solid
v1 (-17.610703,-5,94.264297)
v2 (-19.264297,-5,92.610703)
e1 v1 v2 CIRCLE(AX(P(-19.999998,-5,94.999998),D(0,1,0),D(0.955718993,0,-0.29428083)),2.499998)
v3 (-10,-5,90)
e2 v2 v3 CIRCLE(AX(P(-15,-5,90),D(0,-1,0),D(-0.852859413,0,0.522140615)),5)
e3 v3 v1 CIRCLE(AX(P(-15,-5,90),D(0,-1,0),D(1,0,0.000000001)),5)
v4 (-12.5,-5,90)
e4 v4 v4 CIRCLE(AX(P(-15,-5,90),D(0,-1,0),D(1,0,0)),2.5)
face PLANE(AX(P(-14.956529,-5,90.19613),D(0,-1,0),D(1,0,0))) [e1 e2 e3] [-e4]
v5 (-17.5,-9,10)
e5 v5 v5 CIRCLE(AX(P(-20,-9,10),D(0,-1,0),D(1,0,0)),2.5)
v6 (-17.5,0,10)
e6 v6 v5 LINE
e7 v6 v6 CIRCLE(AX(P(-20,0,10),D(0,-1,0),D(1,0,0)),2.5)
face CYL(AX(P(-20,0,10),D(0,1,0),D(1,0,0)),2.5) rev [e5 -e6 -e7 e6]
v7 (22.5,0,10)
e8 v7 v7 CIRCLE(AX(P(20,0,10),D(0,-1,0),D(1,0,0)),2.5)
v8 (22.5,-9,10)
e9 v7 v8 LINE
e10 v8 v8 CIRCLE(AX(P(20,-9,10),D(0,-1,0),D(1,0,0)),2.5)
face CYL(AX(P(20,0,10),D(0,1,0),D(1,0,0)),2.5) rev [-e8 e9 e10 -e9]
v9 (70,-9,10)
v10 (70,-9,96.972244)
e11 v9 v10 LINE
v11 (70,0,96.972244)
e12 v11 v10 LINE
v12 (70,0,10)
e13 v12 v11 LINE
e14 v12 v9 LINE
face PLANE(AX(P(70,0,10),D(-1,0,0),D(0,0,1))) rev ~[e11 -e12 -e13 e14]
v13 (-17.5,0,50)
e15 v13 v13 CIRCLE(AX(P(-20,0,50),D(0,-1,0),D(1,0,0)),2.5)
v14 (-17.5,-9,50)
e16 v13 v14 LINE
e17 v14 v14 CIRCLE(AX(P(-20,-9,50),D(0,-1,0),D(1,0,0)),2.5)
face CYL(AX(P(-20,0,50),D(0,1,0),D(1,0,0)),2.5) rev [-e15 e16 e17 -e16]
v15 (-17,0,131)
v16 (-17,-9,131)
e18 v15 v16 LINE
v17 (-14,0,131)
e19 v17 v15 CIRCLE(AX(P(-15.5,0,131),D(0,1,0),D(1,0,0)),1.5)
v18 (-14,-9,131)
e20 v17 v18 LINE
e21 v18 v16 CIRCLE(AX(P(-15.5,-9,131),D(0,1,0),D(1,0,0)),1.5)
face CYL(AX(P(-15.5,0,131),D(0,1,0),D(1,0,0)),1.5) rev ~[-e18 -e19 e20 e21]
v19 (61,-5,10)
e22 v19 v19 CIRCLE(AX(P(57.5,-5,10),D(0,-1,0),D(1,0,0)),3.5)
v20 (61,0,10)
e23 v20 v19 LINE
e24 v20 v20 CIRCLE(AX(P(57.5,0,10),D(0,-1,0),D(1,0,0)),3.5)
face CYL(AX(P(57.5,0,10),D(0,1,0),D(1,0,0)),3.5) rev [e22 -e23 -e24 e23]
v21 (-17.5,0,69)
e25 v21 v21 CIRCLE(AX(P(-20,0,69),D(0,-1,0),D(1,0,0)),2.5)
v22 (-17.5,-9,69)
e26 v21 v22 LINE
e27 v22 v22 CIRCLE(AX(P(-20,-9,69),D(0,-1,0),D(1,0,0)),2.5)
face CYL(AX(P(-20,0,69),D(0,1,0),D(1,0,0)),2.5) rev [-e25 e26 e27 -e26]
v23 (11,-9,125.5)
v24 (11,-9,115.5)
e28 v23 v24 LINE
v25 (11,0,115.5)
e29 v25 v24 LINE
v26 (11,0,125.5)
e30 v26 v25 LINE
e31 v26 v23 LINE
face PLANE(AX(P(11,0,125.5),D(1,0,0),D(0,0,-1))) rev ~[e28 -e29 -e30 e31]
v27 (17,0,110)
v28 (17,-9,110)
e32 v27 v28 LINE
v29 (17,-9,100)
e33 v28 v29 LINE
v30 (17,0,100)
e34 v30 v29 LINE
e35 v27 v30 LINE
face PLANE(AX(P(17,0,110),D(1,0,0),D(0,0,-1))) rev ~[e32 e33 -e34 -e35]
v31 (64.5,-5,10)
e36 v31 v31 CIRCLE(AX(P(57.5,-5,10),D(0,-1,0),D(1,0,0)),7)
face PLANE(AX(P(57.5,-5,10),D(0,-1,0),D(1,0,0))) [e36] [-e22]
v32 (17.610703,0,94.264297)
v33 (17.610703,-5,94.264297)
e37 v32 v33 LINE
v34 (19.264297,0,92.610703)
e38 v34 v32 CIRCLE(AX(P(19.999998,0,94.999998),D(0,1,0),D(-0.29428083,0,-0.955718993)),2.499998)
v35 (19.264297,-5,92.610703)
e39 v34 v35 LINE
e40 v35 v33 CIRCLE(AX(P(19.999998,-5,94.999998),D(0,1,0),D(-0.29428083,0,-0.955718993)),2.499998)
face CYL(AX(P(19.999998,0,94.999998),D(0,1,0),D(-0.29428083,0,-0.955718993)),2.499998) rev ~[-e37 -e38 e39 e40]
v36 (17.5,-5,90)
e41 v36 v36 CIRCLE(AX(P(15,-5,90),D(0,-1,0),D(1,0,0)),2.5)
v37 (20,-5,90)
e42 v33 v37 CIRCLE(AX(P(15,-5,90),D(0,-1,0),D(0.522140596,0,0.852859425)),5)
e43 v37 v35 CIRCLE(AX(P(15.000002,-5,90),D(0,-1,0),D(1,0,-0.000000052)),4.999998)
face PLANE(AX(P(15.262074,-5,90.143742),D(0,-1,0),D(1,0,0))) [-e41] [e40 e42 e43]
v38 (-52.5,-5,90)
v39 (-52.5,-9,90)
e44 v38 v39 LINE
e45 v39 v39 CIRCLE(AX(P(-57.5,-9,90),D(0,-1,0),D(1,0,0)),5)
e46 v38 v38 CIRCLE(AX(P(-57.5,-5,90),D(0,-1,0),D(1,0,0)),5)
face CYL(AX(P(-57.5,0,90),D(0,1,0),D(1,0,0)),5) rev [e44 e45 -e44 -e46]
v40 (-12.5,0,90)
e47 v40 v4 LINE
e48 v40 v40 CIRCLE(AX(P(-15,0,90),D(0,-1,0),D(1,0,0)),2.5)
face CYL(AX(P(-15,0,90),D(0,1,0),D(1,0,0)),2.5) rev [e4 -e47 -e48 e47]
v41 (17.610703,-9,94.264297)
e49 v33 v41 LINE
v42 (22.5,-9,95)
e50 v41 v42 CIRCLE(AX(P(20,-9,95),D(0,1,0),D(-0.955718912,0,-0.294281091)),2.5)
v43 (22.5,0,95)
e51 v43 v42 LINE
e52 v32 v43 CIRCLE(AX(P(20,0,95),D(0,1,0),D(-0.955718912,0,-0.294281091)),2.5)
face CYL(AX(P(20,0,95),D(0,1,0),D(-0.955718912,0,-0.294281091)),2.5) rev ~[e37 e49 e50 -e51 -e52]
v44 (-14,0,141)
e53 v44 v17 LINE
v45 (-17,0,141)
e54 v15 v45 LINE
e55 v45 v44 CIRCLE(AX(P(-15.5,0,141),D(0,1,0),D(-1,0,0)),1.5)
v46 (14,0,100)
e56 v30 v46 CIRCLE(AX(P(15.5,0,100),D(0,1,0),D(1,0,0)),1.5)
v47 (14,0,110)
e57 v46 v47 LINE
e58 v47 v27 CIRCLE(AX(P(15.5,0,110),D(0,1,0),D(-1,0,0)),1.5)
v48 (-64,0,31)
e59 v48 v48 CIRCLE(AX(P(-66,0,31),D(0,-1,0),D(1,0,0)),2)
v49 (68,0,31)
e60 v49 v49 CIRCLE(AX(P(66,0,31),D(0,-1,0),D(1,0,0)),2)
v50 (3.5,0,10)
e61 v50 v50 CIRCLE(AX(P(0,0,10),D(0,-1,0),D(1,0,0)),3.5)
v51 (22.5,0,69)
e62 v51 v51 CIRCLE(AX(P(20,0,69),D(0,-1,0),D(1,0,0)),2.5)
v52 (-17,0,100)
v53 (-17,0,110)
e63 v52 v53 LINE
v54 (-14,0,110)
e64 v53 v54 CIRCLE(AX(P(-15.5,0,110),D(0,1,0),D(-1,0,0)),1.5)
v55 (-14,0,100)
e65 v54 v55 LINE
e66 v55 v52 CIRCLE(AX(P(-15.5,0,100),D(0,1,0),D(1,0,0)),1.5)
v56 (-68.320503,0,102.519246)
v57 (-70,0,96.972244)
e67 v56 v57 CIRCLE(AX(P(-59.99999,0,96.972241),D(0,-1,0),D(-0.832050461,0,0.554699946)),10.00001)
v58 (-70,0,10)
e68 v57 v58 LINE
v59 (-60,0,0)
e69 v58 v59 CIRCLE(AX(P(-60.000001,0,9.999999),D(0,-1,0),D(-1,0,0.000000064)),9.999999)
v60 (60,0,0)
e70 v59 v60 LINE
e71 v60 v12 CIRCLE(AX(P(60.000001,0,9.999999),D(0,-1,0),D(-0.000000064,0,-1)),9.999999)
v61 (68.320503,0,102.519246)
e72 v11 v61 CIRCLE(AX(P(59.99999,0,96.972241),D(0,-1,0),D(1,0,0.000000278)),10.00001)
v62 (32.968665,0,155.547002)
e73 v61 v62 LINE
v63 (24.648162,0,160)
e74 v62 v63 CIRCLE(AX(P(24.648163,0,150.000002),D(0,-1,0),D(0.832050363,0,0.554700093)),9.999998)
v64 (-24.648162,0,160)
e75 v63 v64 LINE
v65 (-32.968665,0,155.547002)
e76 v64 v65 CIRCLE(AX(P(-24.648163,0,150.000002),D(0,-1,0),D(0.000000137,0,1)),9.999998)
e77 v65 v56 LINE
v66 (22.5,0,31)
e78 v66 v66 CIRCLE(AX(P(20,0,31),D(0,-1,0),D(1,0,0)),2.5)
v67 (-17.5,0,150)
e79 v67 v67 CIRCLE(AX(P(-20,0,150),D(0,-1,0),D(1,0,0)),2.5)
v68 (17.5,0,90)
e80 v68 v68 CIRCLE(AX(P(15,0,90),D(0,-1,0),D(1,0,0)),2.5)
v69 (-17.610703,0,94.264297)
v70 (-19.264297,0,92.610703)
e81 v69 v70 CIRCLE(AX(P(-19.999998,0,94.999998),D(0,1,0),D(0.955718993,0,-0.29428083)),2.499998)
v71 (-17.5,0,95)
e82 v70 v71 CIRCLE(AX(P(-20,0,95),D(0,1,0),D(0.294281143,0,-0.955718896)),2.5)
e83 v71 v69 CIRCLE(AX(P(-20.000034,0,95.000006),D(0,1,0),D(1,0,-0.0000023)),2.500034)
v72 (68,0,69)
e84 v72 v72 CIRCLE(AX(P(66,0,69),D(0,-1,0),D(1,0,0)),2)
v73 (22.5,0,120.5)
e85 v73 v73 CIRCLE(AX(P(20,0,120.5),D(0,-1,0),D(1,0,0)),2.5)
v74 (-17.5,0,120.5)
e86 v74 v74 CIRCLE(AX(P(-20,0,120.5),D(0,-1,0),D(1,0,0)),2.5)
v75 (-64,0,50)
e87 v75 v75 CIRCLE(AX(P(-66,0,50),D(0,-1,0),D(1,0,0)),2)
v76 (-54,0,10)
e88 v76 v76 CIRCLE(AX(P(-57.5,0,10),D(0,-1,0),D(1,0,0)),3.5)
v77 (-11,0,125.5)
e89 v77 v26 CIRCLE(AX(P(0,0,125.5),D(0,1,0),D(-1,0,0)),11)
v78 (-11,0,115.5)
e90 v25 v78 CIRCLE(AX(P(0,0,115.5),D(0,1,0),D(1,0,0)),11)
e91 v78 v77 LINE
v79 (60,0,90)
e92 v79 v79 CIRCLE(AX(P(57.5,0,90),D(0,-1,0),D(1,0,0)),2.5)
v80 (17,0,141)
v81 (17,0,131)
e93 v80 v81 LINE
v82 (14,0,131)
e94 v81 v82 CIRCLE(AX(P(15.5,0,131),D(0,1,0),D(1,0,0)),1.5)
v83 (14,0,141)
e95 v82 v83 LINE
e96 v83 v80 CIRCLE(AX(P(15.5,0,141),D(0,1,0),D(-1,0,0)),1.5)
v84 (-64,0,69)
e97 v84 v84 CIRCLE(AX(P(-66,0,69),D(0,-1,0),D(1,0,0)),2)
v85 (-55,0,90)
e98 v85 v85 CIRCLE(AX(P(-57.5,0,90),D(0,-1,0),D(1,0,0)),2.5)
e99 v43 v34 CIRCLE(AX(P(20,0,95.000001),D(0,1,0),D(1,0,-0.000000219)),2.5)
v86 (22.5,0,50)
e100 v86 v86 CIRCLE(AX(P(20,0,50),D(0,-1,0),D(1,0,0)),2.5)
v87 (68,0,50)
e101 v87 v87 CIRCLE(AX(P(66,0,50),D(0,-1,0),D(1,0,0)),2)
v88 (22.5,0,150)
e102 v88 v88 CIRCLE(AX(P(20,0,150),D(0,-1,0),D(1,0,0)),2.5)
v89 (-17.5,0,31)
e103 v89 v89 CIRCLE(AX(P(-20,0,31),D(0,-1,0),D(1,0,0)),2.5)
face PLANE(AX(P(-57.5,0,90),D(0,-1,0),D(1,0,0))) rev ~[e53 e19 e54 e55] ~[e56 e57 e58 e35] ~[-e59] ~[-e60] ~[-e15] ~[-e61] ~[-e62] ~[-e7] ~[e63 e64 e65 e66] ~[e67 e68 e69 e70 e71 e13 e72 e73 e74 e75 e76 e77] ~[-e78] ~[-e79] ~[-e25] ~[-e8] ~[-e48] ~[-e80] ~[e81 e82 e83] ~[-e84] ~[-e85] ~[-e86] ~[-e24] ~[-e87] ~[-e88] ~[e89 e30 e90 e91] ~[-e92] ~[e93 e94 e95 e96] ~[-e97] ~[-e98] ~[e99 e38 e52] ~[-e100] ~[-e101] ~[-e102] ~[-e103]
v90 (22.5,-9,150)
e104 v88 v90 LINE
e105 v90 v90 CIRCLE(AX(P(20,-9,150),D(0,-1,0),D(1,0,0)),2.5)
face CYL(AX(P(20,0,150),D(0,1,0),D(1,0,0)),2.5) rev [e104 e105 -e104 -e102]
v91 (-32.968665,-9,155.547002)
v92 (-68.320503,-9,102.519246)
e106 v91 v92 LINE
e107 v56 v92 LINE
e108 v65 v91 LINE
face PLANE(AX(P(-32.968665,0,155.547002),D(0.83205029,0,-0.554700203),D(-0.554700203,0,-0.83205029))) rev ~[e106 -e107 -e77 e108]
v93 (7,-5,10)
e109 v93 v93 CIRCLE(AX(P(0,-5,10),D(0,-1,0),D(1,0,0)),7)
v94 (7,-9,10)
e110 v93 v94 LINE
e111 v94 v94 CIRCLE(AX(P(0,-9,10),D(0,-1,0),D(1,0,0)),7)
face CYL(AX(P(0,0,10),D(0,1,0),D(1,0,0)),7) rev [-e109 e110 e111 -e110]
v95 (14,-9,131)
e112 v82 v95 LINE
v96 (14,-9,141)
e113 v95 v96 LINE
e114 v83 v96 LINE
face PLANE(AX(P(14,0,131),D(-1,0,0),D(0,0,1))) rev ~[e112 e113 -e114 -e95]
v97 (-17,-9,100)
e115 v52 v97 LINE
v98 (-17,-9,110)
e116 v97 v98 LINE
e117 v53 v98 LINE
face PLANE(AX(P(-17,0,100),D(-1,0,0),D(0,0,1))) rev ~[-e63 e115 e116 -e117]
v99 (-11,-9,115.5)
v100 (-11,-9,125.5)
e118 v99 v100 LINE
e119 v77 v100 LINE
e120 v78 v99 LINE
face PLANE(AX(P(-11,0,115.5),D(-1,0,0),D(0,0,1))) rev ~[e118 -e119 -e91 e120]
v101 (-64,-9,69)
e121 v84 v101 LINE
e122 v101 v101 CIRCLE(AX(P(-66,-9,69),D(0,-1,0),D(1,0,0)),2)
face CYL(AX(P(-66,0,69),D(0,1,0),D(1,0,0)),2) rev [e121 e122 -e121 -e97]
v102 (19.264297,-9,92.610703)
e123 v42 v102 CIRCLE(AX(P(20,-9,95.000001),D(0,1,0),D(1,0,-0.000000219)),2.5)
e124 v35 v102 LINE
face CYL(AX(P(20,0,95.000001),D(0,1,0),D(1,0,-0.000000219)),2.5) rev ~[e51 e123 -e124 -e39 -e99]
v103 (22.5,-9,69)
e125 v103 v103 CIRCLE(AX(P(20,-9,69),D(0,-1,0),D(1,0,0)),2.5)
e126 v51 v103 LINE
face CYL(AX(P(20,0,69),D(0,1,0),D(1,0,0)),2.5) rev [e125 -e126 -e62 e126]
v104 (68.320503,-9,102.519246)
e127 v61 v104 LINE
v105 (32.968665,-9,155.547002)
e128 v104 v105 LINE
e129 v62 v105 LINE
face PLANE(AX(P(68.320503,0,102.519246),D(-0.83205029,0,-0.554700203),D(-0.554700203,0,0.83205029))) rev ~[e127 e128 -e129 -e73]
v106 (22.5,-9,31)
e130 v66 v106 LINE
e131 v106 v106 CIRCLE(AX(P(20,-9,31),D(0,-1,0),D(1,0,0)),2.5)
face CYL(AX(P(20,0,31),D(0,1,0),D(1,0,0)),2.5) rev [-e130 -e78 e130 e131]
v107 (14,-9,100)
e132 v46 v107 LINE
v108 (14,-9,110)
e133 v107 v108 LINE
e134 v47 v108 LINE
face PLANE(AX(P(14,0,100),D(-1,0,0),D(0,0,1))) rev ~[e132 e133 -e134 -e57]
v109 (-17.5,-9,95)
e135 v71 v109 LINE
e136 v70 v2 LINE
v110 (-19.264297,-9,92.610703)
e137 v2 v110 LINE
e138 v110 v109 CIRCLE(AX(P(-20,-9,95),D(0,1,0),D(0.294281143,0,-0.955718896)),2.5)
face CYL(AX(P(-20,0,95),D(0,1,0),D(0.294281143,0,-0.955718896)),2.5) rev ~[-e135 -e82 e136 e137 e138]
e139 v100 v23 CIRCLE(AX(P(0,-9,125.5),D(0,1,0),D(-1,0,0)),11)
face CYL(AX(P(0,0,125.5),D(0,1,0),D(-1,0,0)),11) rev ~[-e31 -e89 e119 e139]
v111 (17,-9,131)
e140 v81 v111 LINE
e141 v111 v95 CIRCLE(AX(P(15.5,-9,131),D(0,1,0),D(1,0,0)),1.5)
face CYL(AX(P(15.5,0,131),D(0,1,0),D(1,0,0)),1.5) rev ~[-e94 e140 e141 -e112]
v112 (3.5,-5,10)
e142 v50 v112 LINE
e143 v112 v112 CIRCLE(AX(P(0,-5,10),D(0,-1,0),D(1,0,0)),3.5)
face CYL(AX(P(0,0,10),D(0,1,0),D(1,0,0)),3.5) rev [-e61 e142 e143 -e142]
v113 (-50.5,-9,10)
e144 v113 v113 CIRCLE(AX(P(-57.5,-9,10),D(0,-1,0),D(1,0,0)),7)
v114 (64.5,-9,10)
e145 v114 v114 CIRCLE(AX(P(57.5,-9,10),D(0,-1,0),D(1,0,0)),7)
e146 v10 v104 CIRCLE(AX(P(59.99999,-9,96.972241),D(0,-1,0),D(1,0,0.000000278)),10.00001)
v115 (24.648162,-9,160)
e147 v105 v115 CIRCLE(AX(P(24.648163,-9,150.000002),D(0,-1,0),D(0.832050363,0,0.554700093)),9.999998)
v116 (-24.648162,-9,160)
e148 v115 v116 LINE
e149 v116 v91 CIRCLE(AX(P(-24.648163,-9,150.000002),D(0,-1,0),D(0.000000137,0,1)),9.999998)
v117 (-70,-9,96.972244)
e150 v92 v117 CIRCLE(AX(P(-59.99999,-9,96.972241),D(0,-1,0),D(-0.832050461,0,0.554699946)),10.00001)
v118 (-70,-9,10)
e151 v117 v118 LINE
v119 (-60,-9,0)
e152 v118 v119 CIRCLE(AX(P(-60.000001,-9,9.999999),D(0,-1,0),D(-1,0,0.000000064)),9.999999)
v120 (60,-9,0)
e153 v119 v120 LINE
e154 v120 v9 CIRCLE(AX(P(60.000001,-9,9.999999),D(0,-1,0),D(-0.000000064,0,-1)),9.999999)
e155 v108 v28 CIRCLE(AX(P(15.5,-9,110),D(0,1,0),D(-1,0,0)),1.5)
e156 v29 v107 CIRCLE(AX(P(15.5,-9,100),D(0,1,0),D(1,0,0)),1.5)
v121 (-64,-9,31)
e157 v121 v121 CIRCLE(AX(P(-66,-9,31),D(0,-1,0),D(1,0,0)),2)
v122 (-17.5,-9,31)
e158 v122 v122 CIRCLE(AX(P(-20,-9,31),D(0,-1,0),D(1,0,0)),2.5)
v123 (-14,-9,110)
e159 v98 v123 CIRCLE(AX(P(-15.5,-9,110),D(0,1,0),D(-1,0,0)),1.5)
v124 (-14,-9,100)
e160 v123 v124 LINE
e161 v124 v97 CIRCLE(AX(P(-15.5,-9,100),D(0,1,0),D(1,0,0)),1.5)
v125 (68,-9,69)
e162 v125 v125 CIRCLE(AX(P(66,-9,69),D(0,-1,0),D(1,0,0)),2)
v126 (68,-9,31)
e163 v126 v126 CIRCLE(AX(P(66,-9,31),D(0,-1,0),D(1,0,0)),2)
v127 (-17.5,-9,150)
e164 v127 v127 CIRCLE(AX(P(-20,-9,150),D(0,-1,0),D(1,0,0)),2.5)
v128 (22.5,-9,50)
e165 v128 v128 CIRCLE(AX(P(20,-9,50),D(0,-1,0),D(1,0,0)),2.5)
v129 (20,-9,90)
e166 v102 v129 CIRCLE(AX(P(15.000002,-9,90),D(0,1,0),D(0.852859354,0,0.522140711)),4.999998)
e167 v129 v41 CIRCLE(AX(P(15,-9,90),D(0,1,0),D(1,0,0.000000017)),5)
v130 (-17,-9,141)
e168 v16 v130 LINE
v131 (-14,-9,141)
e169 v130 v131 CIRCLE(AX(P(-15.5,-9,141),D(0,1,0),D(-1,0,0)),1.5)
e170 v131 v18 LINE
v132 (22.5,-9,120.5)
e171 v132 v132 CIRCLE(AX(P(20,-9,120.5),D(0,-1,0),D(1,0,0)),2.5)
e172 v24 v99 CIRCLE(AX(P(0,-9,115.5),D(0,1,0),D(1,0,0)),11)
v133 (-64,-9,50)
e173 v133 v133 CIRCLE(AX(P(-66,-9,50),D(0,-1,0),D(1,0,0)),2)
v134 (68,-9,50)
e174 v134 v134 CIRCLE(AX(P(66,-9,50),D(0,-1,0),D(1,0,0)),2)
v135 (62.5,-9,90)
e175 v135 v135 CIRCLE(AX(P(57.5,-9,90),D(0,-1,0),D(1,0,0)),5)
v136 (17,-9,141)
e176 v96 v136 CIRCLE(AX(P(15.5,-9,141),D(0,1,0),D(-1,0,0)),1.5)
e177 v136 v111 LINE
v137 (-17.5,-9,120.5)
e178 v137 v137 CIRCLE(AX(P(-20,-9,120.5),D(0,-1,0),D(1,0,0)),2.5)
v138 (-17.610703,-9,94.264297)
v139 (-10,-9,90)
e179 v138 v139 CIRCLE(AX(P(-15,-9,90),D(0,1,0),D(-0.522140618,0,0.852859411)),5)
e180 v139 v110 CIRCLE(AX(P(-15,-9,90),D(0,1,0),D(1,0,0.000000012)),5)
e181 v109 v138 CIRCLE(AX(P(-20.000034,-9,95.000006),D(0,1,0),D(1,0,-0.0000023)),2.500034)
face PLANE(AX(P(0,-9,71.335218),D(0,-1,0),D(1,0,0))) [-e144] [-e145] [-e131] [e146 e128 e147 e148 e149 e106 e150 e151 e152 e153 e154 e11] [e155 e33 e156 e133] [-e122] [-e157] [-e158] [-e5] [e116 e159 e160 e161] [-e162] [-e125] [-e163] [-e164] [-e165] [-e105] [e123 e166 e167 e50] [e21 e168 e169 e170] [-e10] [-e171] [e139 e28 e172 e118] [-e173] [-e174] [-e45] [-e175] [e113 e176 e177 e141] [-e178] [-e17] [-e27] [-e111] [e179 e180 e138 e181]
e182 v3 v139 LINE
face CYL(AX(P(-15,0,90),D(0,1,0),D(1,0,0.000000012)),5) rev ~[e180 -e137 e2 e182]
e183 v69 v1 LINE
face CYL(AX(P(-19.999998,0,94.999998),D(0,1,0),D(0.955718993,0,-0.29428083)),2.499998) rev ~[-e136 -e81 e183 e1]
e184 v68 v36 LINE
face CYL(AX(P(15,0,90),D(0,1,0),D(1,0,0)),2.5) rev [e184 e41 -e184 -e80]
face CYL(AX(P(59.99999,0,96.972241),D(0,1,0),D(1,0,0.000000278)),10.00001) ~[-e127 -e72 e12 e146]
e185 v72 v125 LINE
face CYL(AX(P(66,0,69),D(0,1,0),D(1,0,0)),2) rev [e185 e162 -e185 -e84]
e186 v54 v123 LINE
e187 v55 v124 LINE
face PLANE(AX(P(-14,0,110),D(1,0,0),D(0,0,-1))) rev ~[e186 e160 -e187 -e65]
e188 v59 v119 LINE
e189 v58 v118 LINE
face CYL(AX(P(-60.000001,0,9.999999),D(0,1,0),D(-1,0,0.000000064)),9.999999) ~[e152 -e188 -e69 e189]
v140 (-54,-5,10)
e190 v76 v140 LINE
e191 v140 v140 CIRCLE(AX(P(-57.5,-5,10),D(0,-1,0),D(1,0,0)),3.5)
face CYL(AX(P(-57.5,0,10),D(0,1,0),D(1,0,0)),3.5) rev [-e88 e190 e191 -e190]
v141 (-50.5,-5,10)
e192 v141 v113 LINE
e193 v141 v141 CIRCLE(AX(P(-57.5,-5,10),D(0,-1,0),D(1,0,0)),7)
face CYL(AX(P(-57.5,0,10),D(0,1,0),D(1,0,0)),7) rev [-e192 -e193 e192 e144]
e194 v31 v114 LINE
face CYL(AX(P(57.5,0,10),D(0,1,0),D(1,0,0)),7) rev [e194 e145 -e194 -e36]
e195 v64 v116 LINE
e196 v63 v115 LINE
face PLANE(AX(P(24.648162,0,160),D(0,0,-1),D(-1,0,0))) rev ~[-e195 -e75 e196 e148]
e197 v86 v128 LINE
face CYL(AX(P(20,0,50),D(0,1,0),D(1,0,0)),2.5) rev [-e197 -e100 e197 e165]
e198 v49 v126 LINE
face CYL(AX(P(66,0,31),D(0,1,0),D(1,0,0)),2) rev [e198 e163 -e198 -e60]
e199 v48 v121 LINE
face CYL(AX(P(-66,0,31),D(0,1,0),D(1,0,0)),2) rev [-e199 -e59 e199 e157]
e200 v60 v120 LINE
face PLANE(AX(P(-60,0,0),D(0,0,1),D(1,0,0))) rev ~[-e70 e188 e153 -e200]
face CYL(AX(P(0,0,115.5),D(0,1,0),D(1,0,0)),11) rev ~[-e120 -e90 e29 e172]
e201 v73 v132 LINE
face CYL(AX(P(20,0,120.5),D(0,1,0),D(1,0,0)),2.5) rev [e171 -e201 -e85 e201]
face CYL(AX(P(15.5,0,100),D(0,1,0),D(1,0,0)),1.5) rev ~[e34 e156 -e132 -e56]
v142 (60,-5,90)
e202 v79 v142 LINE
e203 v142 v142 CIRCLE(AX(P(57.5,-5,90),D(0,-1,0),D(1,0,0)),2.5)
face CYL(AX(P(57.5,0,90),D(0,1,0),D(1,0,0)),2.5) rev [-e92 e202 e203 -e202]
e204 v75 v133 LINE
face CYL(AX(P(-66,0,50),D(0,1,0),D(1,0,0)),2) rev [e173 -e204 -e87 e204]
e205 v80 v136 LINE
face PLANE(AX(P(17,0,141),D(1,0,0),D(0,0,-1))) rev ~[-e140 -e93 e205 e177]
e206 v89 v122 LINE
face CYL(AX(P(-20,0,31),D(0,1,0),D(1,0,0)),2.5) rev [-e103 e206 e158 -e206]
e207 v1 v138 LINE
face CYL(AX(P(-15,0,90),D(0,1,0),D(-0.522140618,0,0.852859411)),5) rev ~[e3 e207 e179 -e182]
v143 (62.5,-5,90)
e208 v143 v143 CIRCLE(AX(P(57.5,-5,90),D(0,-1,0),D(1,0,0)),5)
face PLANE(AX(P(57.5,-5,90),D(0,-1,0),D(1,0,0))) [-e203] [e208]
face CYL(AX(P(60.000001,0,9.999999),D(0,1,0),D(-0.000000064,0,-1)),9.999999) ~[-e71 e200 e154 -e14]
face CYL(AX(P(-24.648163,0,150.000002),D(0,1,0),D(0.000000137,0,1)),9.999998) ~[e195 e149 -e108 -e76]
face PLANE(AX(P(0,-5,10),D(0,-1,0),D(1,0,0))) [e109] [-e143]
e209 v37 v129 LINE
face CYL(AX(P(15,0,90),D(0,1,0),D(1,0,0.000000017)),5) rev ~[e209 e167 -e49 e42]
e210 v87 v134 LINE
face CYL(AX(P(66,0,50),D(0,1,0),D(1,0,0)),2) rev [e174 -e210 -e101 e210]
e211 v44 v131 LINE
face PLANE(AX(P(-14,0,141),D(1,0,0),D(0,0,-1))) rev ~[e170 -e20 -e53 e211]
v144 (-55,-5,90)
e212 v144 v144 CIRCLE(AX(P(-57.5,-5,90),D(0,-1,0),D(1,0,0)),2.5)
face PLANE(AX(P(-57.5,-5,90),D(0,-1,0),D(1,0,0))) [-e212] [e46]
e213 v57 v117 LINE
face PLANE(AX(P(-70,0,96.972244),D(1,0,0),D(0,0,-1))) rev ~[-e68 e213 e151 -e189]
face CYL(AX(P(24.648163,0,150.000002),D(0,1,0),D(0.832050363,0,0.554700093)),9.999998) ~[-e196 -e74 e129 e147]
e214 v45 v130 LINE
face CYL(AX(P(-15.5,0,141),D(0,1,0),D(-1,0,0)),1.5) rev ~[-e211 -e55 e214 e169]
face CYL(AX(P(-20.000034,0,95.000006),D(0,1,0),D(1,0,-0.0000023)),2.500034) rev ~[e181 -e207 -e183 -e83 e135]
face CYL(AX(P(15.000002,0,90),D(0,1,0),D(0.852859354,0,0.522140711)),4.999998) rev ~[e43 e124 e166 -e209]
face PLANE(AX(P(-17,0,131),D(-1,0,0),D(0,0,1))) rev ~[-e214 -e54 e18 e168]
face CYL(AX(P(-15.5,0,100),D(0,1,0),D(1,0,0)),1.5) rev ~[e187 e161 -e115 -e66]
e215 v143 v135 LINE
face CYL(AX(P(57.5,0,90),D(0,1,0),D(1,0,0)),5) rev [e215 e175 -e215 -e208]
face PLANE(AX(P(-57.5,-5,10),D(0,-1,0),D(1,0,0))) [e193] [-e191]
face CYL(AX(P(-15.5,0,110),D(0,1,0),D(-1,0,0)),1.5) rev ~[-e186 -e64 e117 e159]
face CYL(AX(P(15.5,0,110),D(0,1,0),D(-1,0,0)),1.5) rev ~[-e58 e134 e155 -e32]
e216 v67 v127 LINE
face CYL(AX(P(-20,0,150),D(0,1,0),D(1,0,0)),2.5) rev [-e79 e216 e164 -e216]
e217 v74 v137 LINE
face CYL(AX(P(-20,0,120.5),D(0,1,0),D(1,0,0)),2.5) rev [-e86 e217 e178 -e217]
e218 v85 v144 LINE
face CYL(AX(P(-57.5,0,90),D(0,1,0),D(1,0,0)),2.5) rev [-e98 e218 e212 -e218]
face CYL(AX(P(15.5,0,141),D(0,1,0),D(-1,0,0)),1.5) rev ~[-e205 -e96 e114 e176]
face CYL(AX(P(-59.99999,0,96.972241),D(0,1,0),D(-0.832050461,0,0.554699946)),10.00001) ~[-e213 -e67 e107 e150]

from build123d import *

# Parameters (mm, degrees)
F0_R     = 7
F0_R_2   = 2
F0_R_3   = 2.5
F0_R_4   = 5
F1_DEPTH = 9
F0_R_5   = 3.5
F2_DEPTH = 5


with BuildPart() as f1:
    # F0 (on Front) → F1 (new body)
    with BuildSketch(Plane.XZ):
        with BuildLine():
            ThreePointArc((-70, 10), (-67.071068, 2.928932), (-60, 0))
            Line((-60, 0), (60, 0))
            ThreePointArc((60, 0), (67.071068, 2.928932), (70, 10))
            Line((70, 10), (70, 96.972244))
            ThreePointArc((70, 96.972244), (69.57092, 99.870085), (68.320503, 102.519246))
            Line((68.320503, 102.519246), (32.968665, 155.547002))
            ThreePointArc((32.968665, 155.547002), (29.366742, 158.816746), (24.648162, 160))
            Line((24.648162, 160), (-24.648162, 160))
            ThreePointArc((-24.648162, 160), (-29.366742, 158.816746), (-32.968665, 155.547002))
            Line((-32.968665, 155.547002), (-68.320503, 102.519246))
            ThreePointArc((-68.320503, 102.519246), (-69.57092, 99.870085), (-70, 96.972244))
            Line((-70, 96.972244), (-70, 10))
        make_face()
        with Locations((-57.5, 10)):
            Circle(F0_R, mode=Mode.SUBTRACT)
        with Locations((-66, 31)):
            Circle(F0_R_2, mode=Mode.SUBTRACT)
        with Locations((-20, 10)):
            Circle(F0_R_3, mode=Mode.SUBTRACT)
        with Locations((-20, 31)):
            Circle(F0_R_3, mode=Mode.SUBTRACT)
        with Locations((-66, 50)):
            Circle(F0_R_2, mode=Mode.SUBTRACT)
        with Locations((-66, 69)):
            Circle(F0_R_2, mode=Mode.SUBTRACT)
        with Locations((-20, 50)):
            Circle(F0_R_3, mode=Mode.SUBTRACT)
        with Locations((-20, 69)):
            Circle(F0_R_3, mode=Mode.SUBTRACT)
        with Locations((0, 10)):
            Circle(F0_R, mode=Mode.SUBTRACT)
        with Locations((20, 10)):
            Circle(F0_R_3, mode=Mode.SUBTRACT)
        with Locations((20, 31)):
            Circle(F0_R_3, mode=Mode.SUBTRACT)
        with Locations((57.5, 10)):
            Circle(F0_R, mode=Mode.SUBTRACT)
        with Locations((66, 31)):
            Circle(F0_R_2, mode=Mode.SUBTRACT)
        with Locations((20, 50)):
            Circle(F0_R_3, mode=Mode.SUBTRACT)
        with Locations((20, 69)):
            Circle(F0_R_3, mode=Mode.SUBTRACT)
        with Locations((66, 50)):
            Circle(F0_R_2, mode=Mode.SUBTRACT)
        with Locations((66, 69)):
            Circle(F0_R_2, mode=Mode.SUBTRACT)
        with Locations((-57.5, 90)):
            Circle(F0_R_4, mode=Mode.SUBTRACT)
        with BuildLine():
            ThreePointArc((-19.264297, 92.610703), (-22.011126, 96.485049), (-17.5, 95))
            ThreePointArc((-17.5, 95), (-17.527831, 94.628008), (-17.610703, 94.264297))
            ThreePointArc((-17.610703, 94.264297), (-12.555978, 94.361967), (-10, 90))
            ThreePointArc((-10, 90), (-16.356192, 85.187439), (-19.264297, 92.610703))
        make_face(mode=Mode.SUBTRACT)
        with BuildLine():
            ThreePointArc((-17, 110), (-15.5, 111.5), (-14, 110))
            Line((-14, 110), (-14, 100))
            ThreePointArc((-14, 100), (-15.5, 98.5), (-17, 100))
            Line((-17, 100), (-17, 110))
        make_face(mode=Mode.SUBTRACT)
        with Locations((-20, 120.5)):
            Circle(F0_R_3, mode=Mode.SUBTRACT)
        with BuildLine():
            ThreePointArc((-17, 141), (-15.5, 142.5), (-14, 141))
            Line((-14, 141), (-14, 131))
            ThreePointArc((-14, 131), (-15.5, 129.5), (-17, 131))
            Line((-17, 131), (-17, 141))
        make_face(mode=Mode.SUBTRACT)
        with Locations((-20, 150)):
            Circle(F0_R_3, mode=Mode.SUBTRACT)
        with BuildLine():
            ThreePointArc((17.610703, 94.264297), (19.628008, 97.472169), (22.5, 95))
            ThreePointArc((22.5, 95), (21.485049, 92.988874), (19.264297, 92.610703))
            ThreePointArc((19.264297, 92.610703), (19.812561, 91.356192), (20, 90))
            ThreePointArc((20, 90), (10.638033, 87.555978), (17.610703, 94.264297))
        make_face(mode=Mode.SUBTRACT)
        with BuildLine():
            ThreePointArc((14, 110), (15.5, 111.5), (17, 110))
            Line((17, 110), (17, 100))
            ThreePointArc((17, 100), (15.5, 98.5), (14, 100))
            Line((14, 100), (14, 110))
        make_face(mode=Mode.SUBTRACT)
        with Locations((57.5, 90)):
            Circle(F0_R_4, mode=Mode.SUBTRACT)
        with BuildLine():
            ThreePointArc((-11, 125.5), (0, 136.5), (11, 125.5))
            Line((11, 125.5), (11, 115.5))
            ThreePointArc((11, 115.5), (0, 104.5), (-11, 115.5))
            Line((-11, 115.5), (-11, 125.5))
        make_face(mode=Mode.SUBTRACT)
        with BuildLine():
            ThreePointArc((14, 141), (15.5, 142.5), (17, 141))
            Line((17, 141), (17, 131))
            ThreePointArc((17, 131), (15.5, 129.5), (14, 131))
            Line((14, 131), (14, 141))
        make_face(mode=Mode.SUBTRACT)
        with Locations((20, 120.5)):
            Circle(F0_R_3, mode=Mode.SUBTRACT)
        with Locations((20, 150)):
            Circle(F0_R_3, mode=Mode.SUBTRACT)
    extrude(amount=F1_DEPTH)

    # F0 (on Front) → F2 (join)
    with BuildSketch(Plane.XZ):
        with Locations((-57.5, 90)):
            Circle(F0_R_4)
        with Locations((-57.5, 90)):
            Circle(F0_R_3, mode=Mode.SUBTRACT)
        with BuildLine():
            ThreePointArc((-17.610703, 94.264297), (-18.232233, 93.232233), (-19.264297, 92.610703))
            ThreePointArc((-19.264297, 92.610703), (-16.356192, 85.187439), (-10, 90))
            ThreePointArc((-10, 90), (-12.555978, 94.361967), (-17.610703, 94.264297))
        make_face()
        with Locations((-15, 90)):
            Circle(F0_R_3, mode=Mode.SUBTRACT)
        with BuildLine():
            ThreePointArc((19.264297, 92.610703), (18.232233, 93.232233), (17.610703, 94.264297))
            ThreePointArc((17.610703, 94.264297), (10.638033, 87.555978), (20, 90))
            ThreePointArc((20, 90), (19.812561, 91.356192), (19.264297, 92.610703))
        make_face()
        with Locations((15, 90)):
            Circle(F0_R_3, mode=Mode.SUBTRACT)
        with Locations((57.5, 90)):
            Circle(F0_R_4)
        with Locations((57.5, 90)):
            Circle(F0_R_3, mode=Mode.SUBTRACT)
        with Locations((57.5, 10)):
            Circle(F0_R)
        with Locations((57.5, 10)):
            Circle(F0_R_5, mode=Mode.SUBTRACT)
        with Locations((0, 10)):
            Circle(F0_R)
        with Locations((0, 10)):
            Circle(F0_R_5, mode=Mode.SUBTRACT)
        with Locations((-57.5, 10)):
            Circle(F0_R)
        with Locations((-57.5, 10)):
            Circle(F0_R_5, mode=Mode.SUBTRACT)
    extrude(amount=F2_DEPTH)


solid = f1.part
